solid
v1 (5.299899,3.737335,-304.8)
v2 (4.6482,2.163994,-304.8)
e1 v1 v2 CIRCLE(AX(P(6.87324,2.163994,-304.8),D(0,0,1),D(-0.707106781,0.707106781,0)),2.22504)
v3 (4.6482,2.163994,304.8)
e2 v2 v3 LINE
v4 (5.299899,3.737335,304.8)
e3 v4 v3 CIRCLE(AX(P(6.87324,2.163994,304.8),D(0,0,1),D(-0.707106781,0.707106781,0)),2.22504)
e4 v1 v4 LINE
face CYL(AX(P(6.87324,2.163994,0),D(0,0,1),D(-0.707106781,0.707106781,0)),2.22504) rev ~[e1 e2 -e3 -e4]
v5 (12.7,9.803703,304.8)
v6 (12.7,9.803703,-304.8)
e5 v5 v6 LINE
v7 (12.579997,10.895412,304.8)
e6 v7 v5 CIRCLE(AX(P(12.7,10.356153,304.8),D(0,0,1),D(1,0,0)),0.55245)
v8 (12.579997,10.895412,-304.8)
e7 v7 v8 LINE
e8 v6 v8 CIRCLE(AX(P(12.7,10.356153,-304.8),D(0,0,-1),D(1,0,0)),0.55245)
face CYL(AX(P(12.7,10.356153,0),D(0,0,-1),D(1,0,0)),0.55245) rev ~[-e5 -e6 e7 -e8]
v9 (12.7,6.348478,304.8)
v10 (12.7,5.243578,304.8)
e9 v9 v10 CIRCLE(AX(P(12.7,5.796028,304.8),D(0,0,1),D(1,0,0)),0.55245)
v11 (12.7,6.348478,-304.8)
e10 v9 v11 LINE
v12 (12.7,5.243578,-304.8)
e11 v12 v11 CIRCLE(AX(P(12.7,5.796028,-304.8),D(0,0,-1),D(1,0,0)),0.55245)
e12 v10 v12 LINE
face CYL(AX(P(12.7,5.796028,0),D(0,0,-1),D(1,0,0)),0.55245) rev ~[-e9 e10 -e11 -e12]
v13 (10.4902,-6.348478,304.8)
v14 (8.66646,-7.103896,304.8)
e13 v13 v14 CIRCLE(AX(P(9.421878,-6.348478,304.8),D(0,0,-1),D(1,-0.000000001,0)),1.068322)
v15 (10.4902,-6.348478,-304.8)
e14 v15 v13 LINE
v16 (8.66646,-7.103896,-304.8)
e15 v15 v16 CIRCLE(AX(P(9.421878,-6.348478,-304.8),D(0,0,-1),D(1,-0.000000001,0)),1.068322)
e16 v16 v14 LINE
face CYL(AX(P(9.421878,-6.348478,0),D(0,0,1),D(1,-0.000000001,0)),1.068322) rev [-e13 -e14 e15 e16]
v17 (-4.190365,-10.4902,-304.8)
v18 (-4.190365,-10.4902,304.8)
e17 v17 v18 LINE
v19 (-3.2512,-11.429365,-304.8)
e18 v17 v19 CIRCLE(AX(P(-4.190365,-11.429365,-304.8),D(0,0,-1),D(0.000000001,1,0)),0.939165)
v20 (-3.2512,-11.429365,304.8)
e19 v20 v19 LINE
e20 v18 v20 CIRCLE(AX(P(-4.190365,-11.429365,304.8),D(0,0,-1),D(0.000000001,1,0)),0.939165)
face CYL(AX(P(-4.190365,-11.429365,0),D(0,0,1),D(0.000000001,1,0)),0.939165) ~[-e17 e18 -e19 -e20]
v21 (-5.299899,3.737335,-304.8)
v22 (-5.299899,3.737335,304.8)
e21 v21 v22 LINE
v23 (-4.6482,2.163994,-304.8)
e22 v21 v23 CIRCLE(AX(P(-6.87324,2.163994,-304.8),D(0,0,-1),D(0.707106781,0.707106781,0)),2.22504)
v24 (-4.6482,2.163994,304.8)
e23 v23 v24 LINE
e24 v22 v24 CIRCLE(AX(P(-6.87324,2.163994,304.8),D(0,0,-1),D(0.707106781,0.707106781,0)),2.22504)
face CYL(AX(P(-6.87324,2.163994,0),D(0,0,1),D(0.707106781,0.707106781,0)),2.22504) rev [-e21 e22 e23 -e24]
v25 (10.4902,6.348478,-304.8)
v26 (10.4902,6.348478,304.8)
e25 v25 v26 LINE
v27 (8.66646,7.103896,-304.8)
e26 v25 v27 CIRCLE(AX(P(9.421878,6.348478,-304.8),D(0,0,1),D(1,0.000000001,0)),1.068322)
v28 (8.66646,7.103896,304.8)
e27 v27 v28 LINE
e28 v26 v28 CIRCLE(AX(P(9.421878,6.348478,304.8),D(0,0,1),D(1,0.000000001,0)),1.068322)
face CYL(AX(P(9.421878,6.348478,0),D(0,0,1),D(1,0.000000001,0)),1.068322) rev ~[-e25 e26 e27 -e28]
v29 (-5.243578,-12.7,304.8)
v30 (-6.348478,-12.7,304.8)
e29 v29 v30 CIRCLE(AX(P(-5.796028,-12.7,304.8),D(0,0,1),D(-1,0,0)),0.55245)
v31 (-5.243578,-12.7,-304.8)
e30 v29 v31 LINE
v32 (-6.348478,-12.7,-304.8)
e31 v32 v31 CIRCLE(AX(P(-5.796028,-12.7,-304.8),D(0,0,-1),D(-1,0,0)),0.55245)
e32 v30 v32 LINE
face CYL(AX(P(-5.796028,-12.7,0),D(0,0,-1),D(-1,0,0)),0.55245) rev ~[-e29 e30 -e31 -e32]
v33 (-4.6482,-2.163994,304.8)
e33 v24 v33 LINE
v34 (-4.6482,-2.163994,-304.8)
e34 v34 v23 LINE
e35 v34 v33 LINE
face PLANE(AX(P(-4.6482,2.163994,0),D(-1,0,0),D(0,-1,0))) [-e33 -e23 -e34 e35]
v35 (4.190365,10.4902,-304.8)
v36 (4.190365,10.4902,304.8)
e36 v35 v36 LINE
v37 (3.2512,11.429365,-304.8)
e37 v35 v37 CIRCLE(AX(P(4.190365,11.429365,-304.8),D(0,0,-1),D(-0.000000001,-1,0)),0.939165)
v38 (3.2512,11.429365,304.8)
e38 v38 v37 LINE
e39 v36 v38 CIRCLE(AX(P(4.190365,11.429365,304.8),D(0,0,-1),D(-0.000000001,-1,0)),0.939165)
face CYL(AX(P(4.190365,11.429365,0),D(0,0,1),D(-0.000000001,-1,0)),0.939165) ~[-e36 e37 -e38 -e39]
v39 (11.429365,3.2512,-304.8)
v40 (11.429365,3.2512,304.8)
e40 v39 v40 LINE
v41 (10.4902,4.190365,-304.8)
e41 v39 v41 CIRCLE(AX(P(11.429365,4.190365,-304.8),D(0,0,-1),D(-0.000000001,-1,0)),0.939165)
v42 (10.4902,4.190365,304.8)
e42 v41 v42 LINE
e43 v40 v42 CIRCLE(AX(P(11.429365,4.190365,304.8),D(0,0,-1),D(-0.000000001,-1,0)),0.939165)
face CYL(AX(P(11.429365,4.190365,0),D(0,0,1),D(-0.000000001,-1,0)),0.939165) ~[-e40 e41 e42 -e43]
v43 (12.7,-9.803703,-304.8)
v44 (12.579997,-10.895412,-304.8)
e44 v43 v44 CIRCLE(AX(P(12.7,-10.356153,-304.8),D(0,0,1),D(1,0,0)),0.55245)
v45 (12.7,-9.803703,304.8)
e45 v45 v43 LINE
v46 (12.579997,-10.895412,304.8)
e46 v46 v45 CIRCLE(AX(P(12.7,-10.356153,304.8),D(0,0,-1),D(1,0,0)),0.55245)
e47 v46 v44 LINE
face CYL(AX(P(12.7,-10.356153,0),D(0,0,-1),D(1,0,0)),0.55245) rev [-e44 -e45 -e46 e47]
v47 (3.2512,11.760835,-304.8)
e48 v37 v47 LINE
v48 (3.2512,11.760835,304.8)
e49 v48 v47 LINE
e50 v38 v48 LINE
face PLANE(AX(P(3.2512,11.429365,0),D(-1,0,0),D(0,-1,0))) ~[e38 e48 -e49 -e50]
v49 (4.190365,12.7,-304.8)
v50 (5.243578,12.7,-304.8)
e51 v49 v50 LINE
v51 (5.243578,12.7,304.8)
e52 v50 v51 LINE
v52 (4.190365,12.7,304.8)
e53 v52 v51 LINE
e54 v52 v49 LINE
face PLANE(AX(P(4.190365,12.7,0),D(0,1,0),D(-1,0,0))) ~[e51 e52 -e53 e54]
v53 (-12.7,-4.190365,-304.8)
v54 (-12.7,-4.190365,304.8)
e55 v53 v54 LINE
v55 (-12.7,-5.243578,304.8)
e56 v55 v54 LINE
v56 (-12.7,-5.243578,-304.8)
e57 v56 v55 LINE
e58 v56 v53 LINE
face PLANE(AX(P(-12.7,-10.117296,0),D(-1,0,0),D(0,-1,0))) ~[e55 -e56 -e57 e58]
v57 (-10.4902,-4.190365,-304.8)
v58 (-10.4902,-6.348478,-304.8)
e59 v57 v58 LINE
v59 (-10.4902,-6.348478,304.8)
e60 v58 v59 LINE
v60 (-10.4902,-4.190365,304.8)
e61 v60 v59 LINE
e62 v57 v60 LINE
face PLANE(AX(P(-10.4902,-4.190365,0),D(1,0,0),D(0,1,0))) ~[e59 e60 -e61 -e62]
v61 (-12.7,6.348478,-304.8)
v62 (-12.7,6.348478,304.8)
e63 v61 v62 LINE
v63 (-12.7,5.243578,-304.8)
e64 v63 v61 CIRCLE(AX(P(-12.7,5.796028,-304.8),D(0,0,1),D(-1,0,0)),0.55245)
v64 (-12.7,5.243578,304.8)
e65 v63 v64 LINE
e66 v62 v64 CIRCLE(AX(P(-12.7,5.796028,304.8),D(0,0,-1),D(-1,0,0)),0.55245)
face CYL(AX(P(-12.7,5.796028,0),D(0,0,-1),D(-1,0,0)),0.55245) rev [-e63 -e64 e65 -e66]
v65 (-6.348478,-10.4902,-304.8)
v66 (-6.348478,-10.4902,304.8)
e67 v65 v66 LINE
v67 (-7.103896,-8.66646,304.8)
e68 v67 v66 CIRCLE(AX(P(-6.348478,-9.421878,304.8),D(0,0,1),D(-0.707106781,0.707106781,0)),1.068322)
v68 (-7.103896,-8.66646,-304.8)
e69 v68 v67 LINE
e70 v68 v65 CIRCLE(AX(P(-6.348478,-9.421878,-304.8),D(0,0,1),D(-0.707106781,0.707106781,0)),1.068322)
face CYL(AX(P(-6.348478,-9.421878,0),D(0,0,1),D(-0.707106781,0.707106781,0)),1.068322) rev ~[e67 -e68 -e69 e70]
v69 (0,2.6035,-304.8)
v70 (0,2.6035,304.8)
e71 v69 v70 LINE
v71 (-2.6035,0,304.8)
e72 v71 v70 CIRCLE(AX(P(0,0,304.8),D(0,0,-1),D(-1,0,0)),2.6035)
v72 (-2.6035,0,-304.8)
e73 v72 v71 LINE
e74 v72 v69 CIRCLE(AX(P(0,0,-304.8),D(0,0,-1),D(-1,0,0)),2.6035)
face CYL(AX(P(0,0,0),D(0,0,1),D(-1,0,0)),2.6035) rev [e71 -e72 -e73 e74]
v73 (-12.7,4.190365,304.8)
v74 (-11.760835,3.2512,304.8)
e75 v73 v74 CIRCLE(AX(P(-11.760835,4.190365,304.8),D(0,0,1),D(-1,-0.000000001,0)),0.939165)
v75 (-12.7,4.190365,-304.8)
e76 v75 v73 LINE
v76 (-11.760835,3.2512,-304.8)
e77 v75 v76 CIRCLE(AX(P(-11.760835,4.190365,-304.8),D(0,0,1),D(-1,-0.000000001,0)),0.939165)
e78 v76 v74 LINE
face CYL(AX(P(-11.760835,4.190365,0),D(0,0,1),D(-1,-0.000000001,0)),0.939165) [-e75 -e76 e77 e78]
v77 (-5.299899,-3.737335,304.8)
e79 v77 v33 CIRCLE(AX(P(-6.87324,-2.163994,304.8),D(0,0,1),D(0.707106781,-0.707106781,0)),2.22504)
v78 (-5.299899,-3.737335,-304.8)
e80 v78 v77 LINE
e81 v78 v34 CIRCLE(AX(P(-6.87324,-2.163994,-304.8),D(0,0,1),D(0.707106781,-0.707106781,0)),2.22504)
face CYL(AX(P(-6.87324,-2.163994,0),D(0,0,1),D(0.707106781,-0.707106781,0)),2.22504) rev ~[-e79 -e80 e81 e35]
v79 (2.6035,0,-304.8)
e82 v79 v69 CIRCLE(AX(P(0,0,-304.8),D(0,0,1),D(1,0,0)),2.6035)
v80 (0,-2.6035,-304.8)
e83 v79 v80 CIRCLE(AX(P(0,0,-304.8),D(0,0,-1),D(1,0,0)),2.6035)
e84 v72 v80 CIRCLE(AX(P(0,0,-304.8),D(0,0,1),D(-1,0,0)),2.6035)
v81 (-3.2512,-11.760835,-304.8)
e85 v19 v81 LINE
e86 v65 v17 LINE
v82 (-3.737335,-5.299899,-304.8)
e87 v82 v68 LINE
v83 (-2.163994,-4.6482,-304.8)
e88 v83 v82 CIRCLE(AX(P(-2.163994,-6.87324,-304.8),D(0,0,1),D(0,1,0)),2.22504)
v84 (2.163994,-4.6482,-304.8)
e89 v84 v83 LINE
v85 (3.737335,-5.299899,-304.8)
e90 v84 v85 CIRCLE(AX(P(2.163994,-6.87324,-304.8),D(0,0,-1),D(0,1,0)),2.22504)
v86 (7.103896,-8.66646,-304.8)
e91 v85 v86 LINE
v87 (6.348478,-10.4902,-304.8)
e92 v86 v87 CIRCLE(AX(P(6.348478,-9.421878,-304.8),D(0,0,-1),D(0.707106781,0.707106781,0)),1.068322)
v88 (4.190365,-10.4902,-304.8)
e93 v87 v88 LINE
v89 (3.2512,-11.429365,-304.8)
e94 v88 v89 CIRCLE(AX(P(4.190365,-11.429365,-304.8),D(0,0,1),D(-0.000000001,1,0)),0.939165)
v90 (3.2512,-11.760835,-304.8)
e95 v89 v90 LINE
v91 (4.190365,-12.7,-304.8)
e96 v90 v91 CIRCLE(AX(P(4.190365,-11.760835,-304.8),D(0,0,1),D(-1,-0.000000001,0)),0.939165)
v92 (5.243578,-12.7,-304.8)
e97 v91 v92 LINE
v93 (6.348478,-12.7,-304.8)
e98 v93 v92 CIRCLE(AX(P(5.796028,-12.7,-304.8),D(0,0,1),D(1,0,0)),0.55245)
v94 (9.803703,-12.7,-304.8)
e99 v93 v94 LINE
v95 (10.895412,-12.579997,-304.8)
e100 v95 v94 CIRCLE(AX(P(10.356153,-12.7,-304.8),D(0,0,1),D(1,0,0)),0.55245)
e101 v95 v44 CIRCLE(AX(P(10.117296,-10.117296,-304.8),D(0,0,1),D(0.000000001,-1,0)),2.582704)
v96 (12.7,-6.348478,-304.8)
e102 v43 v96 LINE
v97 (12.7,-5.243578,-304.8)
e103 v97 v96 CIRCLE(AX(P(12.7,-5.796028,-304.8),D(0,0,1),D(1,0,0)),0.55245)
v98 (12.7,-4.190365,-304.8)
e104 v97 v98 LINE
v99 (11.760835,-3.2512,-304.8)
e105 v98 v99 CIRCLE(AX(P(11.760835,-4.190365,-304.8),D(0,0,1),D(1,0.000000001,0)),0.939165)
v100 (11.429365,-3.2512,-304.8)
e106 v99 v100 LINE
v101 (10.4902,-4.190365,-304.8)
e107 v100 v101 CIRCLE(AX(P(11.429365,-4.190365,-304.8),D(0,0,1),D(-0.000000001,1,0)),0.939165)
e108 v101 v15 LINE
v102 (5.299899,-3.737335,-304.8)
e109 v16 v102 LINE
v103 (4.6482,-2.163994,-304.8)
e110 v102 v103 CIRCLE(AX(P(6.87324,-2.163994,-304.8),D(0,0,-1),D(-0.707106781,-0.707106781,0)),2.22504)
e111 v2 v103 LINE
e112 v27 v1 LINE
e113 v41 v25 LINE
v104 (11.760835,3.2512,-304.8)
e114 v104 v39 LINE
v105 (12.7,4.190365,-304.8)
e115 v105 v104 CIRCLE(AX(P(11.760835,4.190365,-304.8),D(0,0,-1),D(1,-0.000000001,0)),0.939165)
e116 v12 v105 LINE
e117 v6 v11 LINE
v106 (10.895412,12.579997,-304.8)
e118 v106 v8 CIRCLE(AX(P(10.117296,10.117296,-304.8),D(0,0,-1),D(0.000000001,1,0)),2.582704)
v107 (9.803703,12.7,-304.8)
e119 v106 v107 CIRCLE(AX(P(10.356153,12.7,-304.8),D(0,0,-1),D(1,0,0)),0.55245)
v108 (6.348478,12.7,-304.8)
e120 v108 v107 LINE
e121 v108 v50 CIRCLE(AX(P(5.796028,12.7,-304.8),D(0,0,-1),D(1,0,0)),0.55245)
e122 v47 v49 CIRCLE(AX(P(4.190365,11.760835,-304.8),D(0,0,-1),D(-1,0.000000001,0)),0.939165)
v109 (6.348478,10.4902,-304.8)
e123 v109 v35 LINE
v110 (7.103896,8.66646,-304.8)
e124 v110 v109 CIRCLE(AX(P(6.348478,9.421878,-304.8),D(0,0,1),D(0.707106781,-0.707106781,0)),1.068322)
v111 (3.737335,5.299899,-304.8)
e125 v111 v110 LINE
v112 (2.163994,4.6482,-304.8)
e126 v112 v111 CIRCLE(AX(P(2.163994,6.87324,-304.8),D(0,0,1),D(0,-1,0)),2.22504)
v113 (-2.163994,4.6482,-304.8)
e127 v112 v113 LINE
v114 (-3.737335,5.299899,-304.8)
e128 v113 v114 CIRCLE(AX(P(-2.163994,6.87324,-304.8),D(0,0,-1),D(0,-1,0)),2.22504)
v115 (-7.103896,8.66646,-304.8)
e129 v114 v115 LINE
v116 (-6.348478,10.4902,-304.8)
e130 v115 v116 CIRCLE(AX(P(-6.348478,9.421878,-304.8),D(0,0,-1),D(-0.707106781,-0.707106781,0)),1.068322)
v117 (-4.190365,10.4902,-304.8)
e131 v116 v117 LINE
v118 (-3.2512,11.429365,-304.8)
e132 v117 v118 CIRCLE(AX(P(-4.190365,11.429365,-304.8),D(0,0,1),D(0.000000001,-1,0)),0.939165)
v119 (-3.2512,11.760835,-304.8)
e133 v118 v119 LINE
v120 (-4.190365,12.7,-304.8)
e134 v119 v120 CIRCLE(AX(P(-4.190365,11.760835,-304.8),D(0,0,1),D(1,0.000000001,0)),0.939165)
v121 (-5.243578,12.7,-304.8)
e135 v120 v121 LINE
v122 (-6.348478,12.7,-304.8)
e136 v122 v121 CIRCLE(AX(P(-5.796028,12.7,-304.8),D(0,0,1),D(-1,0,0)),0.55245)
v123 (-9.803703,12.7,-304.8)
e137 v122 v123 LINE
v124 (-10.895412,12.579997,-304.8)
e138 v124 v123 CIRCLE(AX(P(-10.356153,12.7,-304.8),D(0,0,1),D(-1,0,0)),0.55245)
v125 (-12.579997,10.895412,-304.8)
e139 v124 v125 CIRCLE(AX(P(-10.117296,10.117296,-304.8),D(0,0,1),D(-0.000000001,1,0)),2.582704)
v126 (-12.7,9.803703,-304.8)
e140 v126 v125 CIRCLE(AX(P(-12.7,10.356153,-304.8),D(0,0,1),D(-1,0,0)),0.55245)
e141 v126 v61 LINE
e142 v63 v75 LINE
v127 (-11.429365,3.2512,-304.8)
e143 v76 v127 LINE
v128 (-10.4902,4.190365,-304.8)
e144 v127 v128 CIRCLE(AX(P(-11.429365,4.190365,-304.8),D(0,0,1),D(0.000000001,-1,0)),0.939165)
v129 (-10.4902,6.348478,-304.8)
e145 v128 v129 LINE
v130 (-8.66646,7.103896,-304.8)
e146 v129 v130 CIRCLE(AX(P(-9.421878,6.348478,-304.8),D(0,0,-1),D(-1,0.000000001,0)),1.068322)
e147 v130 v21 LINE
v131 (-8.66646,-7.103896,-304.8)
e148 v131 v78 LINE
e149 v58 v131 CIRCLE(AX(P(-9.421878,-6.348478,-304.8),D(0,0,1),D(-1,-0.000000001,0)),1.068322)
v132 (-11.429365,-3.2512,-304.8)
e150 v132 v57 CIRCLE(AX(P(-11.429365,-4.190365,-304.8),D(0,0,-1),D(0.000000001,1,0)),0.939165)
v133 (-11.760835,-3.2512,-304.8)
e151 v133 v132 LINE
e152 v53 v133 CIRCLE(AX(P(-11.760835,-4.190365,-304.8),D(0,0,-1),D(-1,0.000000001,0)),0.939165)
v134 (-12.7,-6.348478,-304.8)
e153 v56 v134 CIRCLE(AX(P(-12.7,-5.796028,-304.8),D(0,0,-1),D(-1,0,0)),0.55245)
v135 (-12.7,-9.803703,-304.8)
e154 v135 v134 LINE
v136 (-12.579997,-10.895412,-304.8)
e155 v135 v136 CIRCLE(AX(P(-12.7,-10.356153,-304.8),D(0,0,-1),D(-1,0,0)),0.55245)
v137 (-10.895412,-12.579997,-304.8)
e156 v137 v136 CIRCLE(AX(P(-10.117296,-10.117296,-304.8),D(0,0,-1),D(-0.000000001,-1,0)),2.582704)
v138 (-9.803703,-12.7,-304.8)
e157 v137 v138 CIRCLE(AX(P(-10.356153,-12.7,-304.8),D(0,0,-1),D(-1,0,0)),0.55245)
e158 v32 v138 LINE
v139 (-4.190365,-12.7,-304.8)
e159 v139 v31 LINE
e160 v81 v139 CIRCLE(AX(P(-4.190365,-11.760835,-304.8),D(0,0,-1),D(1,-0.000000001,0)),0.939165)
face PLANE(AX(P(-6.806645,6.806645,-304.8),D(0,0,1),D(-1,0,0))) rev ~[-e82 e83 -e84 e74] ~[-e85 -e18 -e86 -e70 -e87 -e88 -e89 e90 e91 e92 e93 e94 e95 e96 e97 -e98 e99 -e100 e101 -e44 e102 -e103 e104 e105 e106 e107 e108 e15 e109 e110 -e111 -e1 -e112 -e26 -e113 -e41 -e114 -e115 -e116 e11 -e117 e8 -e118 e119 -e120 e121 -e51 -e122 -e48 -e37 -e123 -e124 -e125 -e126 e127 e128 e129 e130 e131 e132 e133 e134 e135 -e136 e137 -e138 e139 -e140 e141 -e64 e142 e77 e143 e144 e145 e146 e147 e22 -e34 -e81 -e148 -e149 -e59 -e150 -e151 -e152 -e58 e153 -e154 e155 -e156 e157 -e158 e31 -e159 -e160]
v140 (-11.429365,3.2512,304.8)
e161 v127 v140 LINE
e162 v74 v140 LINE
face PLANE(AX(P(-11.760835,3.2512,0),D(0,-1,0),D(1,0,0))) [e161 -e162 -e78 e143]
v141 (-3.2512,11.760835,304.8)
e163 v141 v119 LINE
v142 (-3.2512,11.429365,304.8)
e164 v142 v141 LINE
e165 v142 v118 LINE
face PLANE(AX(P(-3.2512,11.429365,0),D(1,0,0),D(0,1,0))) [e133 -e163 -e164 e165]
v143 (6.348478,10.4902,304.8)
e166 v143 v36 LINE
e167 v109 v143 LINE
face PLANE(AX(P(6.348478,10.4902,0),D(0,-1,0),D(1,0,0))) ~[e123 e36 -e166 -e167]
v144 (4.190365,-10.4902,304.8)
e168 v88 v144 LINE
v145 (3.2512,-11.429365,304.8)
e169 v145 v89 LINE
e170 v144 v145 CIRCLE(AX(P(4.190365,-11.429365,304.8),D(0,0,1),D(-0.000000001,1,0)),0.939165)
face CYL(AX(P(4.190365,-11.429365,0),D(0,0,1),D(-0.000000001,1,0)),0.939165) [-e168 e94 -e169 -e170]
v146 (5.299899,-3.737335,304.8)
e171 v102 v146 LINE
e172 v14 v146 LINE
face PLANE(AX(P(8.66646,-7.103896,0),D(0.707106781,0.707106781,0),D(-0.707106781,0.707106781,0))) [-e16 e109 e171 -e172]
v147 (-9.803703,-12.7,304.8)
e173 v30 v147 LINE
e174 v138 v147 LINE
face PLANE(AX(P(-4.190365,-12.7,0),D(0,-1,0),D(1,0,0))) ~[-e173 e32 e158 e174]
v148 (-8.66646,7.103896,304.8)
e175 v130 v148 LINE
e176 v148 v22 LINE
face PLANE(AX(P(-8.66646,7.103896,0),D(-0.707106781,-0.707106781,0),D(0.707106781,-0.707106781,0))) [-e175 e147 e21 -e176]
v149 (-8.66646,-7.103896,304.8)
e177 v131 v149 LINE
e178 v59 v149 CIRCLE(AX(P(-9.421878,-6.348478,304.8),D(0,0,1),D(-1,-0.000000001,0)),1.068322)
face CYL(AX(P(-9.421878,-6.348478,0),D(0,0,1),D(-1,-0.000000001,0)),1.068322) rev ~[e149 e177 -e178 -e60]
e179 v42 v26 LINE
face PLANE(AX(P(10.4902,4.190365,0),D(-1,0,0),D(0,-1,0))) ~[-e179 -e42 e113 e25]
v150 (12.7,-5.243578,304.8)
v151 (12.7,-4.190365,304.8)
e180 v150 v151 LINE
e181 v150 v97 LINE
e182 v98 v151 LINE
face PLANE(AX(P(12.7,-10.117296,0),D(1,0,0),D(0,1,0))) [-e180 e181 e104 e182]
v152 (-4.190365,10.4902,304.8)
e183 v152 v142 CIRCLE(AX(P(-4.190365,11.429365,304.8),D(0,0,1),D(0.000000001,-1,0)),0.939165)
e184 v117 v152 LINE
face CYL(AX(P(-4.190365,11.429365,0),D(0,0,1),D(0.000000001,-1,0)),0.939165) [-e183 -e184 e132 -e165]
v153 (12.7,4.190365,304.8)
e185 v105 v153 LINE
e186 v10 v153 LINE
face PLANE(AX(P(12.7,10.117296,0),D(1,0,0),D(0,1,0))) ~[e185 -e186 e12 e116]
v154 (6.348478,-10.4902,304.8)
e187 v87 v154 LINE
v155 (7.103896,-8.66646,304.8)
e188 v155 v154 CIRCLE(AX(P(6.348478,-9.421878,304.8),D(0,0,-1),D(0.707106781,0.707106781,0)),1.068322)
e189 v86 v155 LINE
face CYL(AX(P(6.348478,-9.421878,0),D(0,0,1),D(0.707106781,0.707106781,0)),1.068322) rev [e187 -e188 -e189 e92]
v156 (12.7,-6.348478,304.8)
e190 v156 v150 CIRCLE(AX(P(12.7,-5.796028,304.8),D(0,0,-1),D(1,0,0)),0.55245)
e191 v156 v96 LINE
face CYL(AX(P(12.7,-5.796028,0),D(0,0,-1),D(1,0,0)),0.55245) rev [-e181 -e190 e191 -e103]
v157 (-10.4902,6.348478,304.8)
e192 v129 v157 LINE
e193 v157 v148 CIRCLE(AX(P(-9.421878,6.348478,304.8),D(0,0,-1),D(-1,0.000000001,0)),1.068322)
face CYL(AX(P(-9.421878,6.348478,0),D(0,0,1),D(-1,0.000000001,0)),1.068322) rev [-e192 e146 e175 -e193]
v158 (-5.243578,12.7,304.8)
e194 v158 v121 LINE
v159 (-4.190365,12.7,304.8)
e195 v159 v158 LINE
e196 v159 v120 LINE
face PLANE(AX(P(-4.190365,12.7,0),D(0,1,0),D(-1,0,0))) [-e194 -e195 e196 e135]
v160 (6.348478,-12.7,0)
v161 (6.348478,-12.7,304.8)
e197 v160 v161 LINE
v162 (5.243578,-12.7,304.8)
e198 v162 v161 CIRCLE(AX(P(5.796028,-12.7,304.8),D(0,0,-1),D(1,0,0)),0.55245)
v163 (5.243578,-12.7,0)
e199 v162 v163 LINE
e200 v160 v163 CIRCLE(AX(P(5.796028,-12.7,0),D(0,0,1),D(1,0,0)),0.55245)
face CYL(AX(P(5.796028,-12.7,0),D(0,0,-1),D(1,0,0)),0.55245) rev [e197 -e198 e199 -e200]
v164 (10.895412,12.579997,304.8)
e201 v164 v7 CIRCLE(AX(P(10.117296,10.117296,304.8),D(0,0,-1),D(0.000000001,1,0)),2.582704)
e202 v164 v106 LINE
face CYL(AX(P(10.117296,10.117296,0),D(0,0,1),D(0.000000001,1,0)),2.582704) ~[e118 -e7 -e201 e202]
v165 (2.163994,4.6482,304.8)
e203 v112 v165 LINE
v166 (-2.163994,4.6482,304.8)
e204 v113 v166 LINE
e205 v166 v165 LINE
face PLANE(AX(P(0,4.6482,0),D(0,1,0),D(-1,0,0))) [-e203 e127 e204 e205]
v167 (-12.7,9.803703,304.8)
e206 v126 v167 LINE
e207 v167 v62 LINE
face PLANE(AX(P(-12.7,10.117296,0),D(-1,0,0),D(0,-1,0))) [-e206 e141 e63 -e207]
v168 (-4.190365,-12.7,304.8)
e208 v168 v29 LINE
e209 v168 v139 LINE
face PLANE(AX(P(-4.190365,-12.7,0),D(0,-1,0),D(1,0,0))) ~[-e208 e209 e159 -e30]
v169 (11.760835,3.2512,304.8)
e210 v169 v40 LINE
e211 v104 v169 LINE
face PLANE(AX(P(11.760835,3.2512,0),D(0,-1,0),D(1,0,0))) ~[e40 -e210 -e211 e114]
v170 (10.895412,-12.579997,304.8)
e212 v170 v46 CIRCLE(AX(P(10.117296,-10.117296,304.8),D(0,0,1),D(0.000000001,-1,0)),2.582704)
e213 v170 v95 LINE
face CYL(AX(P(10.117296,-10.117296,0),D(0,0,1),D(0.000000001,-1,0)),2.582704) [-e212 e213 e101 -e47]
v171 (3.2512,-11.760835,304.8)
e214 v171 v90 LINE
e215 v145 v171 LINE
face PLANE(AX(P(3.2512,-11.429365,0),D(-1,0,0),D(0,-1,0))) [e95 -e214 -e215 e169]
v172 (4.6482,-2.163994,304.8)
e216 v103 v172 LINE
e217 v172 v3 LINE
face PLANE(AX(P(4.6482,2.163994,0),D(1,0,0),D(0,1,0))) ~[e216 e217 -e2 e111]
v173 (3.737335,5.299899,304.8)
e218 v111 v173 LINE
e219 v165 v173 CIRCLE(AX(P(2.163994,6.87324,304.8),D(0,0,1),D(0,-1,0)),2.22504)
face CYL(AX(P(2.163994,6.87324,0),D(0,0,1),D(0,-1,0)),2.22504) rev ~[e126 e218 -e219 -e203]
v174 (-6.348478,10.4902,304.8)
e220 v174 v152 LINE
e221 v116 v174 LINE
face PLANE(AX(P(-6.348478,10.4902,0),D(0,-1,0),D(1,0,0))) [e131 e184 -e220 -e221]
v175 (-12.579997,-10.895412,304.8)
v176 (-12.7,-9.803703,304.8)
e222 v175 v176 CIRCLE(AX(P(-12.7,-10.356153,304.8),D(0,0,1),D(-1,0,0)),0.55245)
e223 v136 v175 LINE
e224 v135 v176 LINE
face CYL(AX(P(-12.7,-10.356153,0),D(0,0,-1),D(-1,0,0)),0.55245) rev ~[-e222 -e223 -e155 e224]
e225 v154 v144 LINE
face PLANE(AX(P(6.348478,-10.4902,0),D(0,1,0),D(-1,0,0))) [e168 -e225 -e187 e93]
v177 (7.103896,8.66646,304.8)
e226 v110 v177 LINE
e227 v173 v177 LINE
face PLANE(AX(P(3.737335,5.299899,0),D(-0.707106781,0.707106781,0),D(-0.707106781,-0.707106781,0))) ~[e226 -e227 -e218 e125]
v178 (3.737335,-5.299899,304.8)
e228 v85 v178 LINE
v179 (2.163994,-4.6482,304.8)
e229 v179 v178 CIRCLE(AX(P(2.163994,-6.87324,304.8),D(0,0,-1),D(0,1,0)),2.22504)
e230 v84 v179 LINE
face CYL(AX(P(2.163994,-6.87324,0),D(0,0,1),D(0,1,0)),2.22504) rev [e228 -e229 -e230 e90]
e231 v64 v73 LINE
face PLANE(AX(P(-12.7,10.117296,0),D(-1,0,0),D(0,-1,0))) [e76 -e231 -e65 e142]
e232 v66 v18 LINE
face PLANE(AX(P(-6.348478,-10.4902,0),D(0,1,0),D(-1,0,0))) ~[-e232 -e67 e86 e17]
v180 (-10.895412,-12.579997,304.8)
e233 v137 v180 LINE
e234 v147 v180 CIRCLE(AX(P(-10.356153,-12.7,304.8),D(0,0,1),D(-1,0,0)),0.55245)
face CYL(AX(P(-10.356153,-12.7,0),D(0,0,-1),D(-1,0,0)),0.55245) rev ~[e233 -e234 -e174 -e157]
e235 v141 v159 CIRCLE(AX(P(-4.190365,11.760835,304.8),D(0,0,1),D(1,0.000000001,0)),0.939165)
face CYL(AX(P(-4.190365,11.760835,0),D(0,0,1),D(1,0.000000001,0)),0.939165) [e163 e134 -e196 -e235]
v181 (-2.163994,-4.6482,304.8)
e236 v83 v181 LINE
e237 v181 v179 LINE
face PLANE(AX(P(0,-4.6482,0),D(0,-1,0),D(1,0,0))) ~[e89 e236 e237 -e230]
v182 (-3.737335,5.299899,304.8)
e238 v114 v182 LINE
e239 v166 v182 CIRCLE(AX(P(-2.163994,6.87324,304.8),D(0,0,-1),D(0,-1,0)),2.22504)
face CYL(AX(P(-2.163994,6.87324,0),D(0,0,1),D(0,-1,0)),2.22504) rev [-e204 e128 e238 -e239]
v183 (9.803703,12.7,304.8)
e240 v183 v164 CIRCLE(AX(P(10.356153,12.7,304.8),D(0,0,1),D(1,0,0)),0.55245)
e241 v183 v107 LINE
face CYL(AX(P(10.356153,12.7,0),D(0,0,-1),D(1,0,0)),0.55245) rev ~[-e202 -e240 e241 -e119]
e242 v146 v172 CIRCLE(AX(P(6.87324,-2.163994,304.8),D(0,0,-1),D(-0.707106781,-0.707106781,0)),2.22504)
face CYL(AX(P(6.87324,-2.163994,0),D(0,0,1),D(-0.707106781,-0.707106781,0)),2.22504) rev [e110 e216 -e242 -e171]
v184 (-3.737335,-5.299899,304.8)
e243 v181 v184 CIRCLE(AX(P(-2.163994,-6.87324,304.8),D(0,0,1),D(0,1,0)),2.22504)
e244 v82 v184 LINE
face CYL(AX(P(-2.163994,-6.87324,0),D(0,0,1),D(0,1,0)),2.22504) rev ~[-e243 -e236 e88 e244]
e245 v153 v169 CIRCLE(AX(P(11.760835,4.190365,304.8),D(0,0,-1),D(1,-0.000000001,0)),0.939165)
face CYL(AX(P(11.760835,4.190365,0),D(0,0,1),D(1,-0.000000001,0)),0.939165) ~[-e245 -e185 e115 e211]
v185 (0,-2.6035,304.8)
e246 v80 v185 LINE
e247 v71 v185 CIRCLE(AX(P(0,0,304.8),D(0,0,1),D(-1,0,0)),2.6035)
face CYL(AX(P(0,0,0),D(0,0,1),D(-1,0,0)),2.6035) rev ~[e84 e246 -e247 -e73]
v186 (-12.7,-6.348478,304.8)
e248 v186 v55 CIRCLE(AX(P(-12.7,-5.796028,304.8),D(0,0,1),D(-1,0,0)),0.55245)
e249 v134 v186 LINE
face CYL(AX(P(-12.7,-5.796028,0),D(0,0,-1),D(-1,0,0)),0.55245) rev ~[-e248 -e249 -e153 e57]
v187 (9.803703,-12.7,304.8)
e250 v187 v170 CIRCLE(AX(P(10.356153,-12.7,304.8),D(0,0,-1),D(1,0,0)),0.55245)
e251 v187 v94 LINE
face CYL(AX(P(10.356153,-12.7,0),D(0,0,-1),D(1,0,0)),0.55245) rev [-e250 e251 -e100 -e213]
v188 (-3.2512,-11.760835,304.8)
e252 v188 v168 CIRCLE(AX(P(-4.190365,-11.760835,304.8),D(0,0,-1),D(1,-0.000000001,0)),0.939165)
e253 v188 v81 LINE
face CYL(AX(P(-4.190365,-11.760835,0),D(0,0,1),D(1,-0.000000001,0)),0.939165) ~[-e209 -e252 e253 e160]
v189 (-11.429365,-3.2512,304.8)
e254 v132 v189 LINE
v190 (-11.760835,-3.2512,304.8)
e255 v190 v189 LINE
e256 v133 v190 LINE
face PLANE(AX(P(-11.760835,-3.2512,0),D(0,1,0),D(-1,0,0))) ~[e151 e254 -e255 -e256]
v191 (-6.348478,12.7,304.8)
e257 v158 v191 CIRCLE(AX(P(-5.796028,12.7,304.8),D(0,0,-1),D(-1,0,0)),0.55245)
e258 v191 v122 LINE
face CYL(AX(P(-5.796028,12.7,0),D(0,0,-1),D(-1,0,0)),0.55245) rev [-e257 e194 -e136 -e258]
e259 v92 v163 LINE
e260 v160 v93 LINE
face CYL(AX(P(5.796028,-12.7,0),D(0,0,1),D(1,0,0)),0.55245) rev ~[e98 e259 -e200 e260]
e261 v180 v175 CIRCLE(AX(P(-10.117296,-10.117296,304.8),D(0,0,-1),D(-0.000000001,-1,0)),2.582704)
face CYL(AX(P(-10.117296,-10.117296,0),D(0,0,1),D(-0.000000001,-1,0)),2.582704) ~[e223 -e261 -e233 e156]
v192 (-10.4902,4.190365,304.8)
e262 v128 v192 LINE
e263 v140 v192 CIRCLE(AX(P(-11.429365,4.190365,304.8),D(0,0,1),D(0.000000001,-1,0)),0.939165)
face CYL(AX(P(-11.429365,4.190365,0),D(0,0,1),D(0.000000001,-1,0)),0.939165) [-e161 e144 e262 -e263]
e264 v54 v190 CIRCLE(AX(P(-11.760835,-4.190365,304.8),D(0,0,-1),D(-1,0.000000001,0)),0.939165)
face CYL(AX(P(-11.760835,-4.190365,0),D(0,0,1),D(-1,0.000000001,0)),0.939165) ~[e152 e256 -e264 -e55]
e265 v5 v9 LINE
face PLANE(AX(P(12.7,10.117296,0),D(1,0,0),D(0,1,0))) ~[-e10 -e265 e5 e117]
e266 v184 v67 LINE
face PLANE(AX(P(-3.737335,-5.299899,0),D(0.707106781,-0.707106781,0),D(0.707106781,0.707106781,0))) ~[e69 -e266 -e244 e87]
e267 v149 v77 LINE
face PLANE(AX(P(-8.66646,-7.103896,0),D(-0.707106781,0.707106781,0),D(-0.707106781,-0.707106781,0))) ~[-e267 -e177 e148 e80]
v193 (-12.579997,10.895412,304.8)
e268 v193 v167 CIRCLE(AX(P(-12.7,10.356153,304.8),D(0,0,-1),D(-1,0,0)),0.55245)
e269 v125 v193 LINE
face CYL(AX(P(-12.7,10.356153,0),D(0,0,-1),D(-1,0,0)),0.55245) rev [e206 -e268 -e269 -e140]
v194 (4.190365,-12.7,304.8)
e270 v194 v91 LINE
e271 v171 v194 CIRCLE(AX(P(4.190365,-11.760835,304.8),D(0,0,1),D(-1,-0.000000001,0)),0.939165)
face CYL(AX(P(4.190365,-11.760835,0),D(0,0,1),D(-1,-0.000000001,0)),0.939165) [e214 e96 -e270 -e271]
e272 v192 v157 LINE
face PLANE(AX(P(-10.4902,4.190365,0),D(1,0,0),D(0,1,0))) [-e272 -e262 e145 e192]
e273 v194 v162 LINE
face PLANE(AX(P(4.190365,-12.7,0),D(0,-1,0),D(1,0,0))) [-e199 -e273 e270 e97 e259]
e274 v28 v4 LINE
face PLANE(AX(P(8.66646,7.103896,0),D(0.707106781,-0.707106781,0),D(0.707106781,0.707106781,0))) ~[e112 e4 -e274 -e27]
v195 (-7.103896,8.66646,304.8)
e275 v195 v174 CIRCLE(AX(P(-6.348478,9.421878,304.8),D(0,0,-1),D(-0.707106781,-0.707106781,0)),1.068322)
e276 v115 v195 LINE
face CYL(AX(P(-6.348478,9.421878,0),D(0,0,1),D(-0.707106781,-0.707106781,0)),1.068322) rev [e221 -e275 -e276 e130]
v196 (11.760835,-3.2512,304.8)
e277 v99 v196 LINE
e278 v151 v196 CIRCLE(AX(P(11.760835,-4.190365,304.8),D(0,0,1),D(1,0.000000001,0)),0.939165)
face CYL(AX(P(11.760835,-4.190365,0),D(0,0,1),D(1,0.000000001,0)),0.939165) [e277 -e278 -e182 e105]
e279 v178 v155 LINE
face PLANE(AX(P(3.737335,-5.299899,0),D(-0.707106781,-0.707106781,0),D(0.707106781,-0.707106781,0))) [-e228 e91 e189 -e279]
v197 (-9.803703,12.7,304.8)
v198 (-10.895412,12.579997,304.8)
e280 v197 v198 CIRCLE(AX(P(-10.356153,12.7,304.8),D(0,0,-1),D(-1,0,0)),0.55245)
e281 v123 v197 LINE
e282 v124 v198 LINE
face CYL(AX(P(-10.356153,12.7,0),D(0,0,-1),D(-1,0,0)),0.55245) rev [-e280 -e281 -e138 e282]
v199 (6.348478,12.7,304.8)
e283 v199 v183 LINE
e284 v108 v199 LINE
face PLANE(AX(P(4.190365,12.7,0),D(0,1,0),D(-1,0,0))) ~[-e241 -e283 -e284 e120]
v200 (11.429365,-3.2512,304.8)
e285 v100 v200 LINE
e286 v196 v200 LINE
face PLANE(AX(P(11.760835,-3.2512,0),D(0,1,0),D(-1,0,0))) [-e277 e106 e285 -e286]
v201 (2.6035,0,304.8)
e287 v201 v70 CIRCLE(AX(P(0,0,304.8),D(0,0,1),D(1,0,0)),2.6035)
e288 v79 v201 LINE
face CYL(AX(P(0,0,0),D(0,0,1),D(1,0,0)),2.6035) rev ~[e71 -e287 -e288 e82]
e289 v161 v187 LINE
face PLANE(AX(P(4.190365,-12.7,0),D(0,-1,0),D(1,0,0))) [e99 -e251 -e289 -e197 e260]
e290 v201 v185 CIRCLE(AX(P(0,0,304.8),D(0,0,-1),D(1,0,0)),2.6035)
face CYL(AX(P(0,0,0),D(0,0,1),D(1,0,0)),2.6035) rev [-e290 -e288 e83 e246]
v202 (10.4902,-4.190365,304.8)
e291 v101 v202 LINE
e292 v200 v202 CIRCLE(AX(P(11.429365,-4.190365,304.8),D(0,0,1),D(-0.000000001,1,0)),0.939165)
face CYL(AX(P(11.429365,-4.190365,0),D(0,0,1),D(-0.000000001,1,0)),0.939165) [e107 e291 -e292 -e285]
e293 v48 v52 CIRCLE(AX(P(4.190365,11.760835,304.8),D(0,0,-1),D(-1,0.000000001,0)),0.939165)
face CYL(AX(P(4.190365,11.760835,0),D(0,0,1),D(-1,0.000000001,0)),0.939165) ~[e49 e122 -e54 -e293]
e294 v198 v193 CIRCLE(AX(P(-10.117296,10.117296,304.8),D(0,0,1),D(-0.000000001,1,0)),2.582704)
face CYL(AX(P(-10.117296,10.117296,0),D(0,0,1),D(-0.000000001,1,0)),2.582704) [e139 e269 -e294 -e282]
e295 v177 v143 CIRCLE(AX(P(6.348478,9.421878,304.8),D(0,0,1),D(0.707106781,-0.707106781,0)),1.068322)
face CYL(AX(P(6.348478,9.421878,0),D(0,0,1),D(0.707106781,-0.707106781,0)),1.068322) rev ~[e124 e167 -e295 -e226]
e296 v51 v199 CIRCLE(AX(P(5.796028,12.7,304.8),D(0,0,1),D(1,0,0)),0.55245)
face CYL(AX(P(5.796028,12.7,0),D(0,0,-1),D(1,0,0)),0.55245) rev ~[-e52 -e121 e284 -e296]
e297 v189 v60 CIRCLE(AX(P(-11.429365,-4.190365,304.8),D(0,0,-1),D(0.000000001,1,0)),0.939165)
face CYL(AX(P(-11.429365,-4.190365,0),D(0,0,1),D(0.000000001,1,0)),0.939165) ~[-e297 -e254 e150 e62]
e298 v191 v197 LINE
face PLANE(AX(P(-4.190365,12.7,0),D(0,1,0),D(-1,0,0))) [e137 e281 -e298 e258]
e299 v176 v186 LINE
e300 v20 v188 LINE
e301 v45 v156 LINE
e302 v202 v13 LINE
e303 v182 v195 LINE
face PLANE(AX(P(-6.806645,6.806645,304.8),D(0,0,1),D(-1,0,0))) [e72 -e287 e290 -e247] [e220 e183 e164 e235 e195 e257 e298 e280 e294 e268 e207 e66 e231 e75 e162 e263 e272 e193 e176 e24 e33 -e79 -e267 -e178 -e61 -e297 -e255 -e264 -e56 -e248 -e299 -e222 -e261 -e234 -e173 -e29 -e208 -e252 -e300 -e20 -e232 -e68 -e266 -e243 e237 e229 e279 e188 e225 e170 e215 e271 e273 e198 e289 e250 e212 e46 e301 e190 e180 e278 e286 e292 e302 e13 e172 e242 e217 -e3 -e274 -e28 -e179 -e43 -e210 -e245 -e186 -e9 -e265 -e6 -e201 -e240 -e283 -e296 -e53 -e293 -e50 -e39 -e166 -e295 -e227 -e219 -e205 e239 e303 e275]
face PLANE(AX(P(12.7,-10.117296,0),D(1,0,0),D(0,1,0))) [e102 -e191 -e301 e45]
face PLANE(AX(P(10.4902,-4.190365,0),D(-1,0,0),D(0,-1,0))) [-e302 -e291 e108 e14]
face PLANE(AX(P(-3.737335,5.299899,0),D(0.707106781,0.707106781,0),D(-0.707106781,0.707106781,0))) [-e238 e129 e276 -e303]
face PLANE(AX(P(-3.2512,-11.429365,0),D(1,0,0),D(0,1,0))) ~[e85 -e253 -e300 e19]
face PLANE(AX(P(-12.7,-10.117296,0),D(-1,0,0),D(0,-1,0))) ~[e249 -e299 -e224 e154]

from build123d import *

# Parameters (mm, degrees)
BOSS_EXTRUDE1_DEPTH     = 304.8
SKETCH5_R               = 0.55245
CUT_EXTRUDE1_DEPTH      = 305.8
CUT_EXTRUDE1_DEPTH_BACK = 305.8


with BuildPart() as part:
    # Sketch4 → Boss-Extrude1 (new body, symmetric)
    with BuildSketch(Plane.XY):
        with BuildLine():
            Line((4.190365, -12.7), (10.11729625, -12.7))
            ThreePointArc((10.11729625, -12.7), (11.943543585, -11.943543585), (12.7, -10.11729625))
            Line((12.7, -10.11729625), (12.7, -4.190365))
            ThreePointArc((12.7, -4.190365), (12.42492494, -3.52627506), (11.760835, -3.2512))
            Line((11.760835, -3.2512), (11.429365, -3.2512))
            ThreePointArc((11.429365, -3.2512), (10.76527506, -3.52627506), (10.4902, -4.190365))
            Line((10.4902, -4.190365), (10.4902, -6.348478019))
            ThreePointArc((10.4902, -6.348478019), (9.830707141, -7.335478831), (8.666460301, -7.103895736))
            Line((8.666460301, -7.103895736), (5.299899128, -3.737334563))
            ThreePointArc((5.299899128, -3.737334563), (4.817571085, -3.015479634), (4.6482, -2.16399369))
            Line((4.6482, -2.16399369), (4.6482, 0))
            Line((4.6482, 0), (2.6035, 0))
            ThreePointArc((2.6035, 0), (1.840952505, -1.840952505), (0, -2.6035))
            Line((0, -2.6035), (0, -4.6482))
            Line((0, -4.6482), (2.16399369, -4.6482))
            ThreePointArc((2.16399369, -4.6482), (3.015479634, -4.817571085), (3.737334563, -5.299899128))
            Line((3.737334563, -5.299899128), (7.103895736, -8.666460301))
            ThreePointArc((7.103895736, -8.666460301), (7.335478831, -9.830707141), (6.348478019, -10.4902))
            Line((6.348478019, -10.4902), (4.190365, -10.4902))
            ThreePointArc((4.190365, -10.4902), (3.52627506, -10.76527506), (3.2512, -11.429365))
            Line((3.2512, -11.429365), (3.2512, -11.760835))
            ThreePointArc((3.2512, -11.760835), (3.52627506, -12.42492494), (4.190365, -12.7))
        make_face()
    extrude(amount=BOSS_EXTRUDE1_DEPTH, both=True)

    # Sketch5 → Cut-Extrude1 (cut, two sides)
    with BuildSketch(Plane.XY) as cut_extrude1_sk:
        with Locations((10.356153152, -12.7)):
            Circle(SKETCH5_R)
        with Locations((5.796028019, -12.7)):
            Circle(SKETCH5_R)
        with Locations((12.7, -10.356153152)):
            Circle(SKETCH5_R)
        with Locations((12.7, -5.796028019)):
            Circle(SKETCH5_R)
    extrude(amount=CUT_EXTRUDE1_DEPTH, mode=Mode.SUBTRACT)
    extrude(cut_extrude1_sk.sketch, amount=-CUT_EXTRUDE1_DEPTH_BACK, mode=Mode.SUBTRACT)

    # Mirror1: part across plane


with BuildPart() as part_1:
    add(part.part)
    add(part.part.mirror(Plane(origin=(0, 0, 0), x_dir=(0, 0, 1), z_dir=(1, 0, 0))))

    # Mirror2: part across plane


with BuildPart() as part_2:
    add(part_1.part)
    add(part_1.part.mirror(Plane.ZX))


solid = part_2.part
